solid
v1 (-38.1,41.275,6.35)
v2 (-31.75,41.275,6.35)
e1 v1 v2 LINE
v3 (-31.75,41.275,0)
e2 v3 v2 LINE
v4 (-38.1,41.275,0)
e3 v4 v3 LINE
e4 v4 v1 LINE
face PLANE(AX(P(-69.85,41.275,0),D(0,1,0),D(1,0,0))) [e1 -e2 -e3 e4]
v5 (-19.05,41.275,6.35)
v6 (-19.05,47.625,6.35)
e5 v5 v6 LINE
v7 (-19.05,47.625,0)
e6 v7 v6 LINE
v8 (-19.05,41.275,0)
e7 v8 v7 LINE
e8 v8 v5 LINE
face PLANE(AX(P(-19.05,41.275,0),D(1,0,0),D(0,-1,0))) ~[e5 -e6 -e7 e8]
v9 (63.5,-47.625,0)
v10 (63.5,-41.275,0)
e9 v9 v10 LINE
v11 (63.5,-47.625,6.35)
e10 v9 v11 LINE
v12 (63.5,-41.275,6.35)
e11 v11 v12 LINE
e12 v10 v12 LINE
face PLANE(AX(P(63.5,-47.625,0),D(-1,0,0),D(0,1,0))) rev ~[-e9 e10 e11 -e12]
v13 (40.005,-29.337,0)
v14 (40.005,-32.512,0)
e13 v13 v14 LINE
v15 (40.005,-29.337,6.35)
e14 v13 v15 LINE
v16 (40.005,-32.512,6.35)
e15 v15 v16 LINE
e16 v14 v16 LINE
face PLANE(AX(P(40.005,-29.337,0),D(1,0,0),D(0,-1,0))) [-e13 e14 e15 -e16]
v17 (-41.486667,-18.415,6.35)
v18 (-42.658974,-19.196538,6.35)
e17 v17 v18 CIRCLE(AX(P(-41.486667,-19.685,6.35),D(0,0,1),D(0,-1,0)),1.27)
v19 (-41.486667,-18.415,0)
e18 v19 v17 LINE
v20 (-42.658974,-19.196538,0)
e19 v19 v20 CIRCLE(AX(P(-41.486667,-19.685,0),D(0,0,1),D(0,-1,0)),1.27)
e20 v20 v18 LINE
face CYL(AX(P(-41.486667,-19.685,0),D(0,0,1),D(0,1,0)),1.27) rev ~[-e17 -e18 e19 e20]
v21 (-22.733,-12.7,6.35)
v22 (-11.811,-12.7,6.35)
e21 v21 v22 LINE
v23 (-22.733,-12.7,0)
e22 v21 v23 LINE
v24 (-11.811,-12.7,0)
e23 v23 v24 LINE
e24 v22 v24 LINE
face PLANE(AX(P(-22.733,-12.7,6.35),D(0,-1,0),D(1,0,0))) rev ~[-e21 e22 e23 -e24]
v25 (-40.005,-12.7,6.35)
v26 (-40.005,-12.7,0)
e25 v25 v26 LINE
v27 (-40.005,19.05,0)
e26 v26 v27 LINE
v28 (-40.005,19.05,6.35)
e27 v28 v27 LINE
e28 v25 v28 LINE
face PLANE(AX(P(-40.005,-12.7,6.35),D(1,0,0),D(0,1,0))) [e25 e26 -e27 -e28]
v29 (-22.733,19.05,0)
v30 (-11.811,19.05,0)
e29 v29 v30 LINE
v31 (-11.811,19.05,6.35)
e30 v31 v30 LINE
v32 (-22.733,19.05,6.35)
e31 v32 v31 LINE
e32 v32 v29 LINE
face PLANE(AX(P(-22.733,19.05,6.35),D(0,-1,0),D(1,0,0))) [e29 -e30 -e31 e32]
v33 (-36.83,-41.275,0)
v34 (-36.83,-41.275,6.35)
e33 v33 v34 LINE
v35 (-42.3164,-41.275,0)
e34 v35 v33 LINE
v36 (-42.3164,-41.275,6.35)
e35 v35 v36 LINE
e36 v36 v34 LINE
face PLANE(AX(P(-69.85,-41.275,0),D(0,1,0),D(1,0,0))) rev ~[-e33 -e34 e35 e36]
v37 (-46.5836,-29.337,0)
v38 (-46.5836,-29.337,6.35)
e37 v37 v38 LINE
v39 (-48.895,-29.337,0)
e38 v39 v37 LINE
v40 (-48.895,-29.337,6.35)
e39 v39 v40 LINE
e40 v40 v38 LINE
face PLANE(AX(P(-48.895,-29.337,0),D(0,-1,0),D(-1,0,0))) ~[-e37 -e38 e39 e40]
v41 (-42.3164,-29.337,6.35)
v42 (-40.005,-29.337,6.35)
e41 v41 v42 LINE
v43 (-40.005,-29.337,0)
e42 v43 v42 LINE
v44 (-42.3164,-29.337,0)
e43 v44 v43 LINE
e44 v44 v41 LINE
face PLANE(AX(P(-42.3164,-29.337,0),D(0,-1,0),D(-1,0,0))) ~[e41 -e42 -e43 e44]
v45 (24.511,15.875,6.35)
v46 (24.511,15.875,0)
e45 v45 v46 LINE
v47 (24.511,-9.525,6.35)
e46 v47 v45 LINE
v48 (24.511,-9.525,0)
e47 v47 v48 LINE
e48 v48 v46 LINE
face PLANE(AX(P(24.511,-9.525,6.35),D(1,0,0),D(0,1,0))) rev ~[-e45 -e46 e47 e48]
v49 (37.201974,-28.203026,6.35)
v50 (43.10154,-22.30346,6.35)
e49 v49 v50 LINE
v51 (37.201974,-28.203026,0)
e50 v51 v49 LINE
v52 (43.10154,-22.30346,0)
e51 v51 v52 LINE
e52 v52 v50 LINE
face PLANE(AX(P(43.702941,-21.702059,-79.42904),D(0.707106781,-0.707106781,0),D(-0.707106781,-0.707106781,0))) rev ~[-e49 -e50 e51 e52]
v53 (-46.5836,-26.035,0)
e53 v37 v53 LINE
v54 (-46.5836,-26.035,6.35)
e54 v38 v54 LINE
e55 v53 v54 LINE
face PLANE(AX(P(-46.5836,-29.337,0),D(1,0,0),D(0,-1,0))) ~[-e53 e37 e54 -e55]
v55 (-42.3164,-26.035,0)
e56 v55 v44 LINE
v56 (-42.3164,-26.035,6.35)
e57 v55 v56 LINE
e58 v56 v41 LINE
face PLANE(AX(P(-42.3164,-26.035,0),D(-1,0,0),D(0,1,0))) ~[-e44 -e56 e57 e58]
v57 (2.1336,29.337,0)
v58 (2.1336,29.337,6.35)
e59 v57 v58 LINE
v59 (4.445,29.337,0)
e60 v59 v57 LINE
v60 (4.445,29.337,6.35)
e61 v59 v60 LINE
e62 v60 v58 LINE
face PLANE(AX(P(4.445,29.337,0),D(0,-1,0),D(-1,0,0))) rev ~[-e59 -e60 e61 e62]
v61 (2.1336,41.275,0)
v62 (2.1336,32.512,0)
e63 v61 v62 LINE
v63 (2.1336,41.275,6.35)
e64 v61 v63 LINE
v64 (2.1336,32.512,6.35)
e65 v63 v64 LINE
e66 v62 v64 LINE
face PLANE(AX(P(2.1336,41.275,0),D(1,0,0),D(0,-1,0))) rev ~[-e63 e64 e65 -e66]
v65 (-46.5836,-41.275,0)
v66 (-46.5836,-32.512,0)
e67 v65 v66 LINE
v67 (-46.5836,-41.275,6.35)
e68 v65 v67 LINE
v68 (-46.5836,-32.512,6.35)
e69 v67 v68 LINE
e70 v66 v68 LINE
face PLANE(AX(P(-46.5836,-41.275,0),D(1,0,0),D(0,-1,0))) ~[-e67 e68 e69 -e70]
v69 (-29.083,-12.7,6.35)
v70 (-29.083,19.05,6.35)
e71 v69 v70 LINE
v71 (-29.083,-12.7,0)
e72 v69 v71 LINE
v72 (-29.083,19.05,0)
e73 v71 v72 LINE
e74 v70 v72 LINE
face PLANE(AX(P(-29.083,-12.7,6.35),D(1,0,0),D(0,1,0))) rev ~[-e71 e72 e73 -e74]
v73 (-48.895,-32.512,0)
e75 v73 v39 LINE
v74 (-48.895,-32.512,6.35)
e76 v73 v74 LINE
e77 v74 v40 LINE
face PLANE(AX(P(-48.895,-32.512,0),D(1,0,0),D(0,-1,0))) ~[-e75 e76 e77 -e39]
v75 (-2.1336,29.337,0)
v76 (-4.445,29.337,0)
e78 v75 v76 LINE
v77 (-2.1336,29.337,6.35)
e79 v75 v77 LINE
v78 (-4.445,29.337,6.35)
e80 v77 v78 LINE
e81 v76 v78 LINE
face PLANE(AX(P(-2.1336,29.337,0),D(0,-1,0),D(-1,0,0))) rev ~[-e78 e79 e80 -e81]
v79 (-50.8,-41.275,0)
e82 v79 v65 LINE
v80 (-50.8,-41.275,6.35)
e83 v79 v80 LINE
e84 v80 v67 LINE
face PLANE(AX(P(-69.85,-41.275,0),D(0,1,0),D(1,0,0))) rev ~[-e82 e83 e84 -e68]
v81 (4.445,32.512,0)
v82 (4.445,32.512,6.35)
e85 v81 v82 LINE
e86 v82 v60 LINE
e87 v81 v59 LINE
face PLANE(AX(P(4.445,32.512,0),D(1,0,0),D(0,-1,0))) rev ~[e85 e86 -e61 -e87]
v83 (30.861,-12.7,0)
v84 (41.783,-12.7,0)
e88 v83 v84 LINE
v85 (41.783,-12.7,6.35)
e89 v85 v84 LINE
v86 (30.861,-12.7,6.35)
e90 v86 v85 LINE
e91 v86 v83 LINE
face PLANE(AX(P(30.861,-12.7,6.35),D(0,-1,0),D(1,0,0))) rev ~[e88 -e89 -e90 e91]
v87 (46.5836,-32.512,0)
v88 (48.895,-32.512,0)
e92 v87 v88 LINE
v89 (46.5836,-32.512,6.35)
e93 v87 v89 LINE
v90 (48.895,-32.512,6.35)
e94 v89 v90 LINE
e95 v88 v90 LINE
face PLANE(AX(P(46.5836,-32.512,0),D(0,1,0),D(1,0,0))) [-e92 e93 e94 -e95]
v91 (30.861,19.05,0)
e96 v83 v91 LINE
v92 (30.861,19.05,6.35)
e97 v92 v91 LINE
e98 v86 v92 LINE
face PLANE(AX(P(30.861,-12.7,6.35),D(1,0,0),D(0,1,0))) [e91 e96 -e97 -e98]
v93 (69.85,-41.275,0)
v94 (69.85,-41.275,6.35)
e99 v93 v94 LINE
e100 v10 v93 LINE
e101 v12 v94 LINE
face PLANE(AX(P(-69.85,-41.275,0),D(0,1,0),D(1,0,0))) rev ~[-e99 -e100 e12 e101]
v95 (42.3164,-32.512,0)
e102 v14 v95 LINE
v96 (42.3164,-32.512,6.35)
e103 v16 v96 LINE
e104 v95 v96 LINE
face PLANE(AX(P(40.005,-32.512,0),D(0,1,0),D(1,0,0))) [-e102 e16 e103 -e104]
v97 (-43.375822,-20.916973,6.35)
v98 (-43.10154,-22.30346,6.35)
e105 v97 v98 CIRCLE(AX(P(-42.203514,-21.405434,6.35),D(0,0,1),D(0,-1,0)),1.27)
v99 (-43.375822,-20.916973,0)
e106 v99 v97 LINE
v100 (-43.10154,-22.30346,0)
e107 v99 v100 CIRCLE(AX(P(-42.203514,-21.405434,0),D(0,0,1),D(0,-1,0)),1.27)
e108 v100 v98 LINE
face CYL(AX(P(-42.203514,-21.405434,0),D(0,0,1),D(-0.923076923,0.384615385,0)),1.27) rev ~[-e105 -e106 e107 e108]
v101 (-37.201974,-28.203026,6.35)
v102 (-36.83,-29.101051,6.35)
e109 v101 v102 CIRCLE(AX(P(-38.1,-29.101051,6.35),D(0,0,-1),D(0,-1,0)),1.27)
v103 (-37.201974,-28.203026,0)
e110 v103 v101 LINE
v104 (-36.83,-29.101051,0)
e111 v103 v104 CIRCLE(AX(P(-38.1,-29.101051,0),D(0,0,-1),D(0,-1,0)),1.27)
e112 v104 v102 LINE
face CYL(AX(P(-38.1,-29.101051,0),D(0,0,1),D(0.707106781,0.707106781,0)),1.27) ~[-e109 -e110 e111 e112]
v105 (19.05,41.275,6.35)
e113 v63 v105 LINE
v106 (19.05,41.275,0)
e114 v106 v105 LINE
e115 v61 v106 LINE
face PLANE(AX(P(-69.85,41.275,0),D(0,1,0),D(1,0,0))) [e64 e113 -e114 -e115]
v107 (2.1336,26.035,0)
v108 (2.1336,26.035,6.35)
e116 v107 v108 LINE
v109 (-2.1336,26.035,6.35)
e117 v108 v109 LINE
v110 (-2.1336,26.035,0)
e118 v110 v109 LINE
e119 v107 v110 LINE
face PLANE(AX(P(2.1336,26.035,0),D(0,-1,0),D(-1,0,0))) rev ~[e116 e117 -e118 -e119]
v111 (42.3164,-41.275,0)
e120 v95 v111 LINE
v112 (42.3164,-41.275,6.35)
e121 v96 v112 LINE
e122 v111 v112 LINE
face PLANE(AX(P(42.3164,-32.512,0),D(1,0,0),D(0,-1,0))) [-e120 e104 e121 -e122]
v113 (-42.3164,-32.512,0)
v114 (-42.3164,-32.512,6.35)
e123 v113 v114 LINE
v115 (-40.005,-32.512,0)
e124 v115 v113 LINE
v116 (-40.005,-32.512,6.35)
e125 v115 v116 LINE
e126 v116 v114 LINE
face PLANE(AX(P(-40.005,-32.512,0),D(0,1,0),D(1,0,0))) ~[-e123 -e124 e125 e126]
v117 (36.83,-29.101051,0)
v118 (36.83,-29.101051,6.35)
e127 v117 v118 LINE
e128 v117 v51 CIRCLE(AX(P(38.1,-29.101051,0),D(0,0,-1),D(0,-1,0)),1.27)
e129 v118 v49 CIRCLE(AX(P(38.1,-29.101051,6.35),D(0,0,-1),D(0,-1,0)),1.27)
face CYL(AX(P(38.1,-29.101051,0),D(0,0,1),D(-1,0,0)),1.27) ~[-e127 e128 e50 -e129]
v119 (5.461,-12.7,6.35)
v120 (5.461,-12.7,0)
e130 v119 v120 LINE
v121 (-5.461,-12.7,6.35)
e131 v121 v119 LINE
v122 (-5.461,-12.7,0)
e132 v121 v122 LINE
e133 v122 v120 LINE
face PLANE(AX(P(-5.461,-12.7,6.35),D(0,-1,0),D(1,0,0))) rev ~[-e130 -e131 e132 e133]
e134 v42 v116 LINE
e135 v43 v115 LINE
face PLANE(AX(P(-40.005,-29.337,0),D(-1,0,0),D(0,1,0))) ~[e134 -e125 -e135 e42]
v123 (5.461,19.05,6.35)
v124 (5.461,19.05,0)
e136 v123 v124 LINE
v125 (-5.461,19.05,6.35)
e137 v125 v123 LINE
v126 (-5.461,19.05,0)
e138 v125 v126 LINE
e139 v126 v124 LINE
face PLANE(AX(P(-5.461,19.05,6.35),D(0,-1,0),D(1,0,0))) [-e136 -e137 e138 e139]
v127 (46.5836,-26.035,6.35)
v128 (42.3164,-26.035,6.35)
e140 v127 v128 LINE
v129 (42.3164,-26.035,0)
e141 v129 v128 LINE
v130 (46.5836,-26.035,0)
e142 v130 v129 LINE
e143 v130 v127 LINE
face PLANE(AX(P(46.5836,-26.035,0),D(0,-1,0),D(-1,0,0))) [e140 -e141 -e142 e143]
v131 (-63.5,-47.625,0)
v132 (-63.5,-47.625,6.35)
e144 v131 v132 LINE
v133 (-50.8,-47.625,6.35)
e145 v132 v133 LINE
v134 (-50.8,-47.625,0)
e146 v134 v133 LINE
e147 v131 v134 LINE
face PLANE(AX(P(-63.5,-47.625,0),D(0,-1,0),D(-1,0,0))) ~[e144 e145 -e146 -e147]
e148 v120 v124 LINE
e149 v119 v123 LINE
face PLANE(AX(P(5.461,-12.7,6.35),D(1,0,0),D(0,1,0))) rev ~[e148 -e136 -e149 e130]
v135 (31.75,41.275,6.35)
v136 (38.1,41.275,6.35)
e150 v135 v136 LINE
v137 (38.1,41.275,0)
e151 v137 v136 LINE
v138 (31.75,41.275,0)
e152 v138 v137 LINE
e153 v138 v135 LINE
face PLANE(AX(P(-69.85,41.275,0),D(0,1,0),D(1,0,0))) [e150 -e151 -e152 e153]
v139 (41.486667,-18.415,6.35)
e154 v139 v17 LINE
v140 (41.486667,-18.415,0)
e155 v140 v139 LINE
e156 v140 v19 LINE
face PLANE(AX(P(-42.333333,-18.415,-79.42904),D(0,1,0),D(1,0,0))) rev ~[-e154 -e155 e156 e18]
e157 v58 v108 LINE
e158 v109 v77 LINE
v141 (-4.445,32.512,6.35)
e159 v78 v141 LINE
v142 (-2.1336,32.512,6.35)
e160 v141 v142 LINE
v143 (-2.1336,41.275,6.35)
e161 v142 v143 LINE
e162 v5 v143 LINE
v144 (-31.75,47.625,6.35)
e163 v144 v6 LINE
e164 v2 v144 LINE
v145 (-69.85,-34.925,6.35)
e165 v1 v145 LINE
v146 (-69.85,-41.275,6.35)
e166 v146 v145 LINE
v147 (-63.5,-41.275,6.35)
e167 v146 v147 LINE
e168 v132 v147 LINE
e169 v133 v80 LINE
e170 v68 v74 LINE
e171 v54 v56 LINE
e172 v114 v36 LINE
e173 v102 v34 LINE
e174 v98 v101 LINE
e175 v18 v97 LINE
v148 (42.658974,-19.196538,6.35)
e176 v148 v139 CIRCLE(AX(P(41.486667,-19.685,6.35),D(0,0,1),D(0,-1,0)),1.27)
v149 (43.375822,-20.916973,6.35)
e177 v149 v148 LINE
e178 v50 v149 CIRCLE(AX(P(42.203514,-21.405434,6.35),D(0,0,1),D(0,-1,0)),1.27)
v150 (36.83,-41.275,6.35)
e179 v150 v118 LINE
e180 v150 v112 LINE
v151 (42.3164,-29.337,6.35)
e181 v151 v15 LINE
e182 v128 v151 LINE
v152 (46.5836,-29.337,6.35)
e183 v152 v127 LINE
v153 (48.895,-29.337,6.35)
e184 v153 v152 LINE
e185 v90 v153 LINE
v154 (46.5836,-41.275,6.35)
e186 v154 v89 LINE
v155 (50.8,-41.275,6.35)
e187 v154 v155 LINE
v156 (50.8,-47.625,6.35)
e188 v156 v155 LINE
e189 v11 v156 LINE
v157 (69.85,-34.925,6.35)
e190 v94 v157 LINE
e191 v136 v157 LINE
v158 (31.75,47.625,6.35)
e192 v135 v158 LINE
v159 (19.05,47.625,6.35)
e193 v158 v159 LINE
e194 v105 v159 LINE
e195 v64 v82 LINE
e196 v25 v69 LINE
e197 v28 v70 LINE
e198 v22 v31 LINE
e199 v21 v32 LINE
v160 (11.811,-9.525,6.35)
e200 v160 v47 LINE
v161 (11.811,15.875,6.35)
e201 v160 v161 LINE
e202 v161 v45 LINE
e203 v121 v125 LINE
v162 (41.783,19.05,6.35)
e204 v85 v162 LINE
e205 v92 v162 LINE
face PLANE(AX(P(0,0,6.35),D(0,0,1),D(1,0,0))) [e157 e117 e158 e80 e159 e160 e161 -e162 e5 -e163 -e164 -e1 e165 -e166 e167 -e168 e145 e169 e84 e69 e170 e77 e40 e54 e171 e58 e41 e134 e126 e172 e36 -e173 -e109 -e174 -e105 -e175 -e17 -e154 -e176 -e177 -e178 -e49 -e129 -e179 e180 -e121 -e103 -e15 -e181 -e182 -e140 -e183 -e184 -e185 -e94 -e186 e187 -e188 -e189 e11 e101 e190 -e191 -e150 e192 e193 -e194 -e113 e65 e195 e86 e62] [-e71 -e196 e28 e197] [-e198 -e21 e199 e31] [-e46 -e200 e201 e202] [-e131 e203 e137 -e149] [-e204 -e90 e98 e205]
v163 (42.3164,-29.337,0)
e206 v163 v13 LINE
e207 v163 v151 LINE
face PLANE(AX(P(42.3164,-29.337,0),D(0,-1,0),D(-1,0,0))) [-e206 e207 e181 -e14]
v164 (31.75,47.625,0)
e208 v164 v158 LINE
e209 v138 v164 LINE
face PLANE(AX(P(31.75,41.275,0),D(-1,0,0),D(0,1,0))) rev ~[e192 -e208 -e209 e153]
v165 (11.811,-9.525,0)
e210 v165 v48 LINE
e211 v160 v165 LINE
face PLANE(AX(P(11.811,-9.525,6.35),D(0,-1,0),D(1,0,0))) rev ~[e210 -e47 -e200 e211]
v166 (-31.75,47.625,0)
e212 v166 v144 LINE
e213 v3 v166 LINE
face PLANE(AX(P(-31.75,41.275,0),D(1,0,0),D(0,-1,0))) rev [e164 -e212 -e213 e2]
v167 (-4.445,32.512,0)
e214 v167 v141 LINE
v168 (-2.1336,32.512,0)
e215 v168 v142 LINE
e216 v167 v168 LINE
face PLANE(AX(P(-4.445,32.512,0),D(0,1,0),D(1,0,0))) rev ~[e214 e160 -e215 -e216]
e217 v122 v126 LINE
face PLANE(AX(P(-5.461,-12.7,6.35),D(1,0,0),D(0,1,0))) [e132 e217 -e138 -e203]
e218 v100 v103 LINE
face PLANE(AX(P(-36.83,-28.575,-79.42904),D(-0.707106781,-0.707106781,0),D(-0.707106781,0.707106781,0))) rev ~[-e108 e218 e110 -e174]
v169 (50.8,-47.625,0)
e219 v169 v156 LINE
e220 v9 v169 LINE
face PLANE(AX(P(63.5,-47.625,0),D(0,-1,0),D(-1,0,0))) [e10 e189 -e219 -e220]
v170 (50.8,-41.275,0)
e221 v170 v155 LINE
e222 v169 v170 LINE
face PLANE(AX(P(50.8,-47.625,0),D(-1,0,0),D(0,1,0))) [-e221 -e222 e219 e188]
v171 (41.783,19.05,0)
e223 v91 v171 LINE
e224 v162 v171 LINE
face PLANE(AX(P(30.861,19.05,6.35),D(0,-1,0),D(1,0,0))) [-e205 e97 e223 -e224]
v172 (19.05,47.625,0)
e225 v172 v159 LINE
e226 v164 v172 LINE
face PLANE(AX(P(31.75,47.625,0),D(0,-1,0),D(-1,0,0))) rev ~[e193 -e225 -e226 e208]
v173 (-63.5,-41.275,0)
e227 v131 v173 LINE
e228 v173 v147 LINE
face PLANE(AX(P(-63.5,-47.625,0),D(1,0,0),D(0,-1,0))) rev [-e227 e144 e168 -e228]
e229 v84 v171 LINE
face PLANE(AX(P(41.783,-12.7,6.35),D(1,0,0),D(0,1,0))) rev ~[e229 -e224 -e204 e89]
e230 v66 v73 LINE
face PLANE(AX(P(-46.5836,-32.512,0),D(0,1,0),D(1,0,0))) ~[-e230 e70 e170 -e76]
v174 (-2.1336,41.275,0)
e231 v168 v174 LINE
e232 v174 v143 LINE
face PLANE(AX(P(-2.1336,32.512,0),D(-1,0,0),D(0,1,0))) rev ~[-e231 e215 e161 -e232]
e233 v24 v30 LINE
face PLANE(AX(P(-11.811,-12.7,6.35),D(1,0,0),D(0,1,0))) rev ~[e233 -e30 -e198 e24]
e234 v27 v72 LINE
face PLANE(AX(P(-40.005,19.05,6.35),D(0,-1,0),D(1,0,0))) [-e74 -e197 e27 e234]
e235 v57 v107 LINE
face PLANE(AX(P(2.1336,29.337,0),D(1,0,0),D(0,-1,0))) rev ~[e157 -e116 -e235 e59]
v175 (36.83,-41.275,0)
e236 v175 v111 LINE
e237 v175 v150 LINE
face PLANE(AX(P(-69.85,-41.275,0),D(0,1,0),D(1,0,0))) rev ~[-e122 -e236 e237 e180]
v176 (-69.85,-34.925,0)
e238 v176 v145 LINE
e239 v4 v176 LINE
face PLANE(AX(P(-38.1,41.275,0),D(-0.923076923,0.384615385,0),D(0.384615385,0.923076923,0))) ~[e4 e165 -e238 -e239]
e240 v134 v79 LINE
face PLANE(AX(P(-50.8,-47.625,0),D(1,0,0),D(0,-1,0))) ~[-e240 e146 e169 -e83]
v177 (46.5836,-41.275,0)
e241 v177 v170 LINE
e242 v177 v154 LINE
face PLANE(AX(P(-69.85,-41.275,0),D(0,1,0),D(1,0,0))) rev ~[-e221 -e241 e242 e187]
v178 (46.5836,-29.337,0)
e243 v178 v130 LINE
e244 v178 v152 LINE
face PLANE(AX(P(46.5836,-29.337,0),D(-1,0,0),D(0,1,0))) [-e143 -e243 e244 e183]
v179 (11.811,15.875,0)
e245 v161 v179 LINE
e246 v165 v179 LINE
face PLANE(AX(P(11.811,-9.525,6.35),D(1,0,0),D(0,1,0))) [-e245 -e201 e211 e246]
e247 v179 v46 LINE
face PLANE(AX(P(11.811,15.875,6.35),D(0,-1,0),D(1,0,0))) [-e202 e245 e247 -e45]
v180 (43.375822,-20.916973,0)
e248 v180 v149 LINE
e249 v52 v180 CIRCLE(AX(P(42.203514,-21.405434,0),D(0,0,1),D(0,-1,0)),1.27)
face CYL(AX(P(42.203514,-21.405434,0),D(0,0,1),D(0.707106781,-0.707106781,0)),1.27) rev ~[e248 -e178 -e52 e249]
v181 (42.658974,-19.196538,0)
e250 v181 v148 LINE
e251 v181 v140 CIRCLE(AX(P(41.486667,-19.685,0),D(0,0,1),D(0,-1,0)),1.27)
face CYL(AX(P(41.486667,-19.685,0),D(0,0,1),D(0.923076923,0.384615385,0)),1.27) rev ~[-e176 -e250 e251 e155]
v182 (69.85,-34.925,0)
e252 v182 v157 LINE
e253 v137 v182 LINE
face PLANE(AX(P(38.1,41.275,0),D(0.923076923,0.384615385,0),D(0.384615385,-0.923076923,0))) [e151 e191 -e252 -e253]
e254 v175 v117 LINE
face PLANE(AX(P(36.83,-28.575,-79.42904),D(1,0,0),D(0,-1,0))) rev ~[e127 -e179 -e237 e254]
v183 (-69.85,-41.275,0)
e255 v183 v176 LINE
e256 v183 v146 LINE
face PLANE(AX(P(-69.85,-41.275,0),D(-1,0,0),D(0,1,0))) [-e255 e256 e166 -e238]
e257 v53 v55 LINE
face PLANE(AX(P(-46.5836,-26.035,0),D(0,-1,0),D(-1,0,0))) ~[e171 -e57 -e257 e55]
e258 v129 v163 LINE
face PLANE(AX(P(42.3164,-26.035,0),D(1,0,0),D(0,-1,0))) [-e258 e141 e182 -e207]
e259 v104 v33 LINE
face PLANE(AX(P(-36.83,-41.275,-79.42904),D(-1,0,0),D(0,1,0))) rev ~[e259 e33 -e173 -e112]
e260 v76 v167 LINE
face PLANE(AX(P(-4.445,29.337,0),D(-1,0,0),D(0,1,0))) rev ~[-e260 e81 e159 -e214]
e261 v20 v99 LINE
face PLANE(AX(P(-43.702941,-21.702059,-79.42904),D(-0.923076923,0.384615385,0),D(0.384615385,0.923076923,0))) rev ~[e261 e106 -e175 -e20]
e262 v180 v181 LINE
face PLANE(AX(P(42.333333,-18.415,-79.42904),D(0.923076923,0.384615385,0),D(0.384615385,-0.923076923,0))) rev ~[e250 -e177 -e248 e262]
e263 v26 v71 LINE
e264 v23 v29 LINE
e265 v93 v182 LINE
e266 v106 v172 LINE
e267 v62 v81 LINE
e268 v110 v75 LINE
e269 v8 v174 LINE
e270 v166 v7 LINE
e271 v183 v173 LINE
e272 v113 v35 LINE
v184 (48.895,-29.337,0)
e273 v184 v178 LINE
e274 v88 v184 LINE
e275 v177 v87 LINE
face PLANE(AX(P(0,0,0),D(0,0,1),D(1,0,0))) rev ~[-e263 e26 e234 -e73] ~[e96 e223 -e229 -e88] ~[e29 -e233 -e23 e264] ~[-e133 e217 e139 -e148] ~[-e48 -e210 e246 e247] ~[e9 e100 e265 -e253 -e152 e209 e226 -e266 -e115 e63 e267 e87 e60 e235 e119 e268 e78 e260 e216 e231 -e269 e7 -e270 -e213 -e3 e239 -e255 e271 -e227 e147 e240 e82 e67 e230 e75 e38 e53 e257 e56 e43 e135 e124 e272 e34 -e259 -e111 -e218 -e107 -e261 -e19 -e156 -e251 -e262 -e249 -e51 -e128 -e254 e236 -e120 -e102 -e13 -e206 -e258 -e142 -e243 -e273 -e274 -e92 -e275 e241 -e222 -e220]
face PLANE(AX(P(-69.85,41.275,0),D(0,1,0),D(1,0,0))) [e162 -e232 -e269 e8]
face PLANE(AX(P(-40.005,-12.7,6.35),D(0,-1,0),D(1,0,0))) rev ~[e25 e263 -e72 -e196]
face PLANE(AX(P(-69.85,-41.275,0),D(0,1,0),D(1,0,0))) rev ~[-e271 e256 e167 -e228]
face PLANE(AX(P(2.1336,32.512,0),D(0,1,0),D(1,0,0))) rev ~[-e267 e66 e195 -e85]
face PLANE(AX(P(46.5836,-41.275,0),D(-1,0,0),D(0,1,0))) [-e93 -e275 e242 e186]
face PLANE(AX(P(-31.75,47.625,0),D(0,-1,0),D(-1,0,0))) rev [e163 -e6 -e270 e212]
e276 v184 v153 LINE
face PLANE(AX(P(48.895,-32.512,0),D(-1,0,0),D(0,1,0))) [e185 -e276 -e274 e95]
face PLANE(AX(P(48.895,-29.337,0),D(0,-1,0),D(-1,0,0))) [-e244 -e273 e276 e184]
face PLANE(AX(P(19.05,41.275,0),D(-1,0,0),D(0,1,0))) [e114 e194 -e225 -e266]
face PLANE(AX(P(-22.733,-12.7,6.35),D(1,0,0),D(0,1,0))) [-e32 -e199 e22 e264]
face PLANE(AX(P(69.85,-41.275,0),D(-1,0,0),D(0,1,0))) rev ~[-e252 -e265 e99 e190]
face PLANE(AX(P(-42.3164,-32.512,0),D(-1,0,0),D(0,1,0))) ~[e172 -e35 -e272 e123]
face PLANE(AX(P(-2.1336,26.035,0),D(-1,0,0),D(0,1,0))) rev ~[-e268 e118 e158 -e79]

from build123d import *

# Parameters (mm, degrees)
SKETCH1_W               = 139.7
SKETCH1_H               = 82.55
BOSS_EXTRUDE1_DEPTH     = 6.35
SKETCH2_W               = 12.7
SKETCH2_H               = 6.35
BOSS_EXTRUDE2_DEPTH     = 6.35
CUT_EXTRUDE1_DEPTH      = 6.35
CUT_EXTRUDE8_DEPTH      = 6.35
CUT_EXTRUDE2_DEPTH      = 6.35
CUT_EXTRUDE9_DEPTH      = 85.77904001
CUT_EXTRUDE9_DEPTH_BACK = 85.77904001
FILLET1_R               = 1.27
SKETCH9_W               = 10.922
SKETCH9_H               = 31.75
SKETCH9_W_2             = 12.7
SKETCH9_H_2             = 25.4
CUT_EXTRUDE10_DEPTH     = 6.35


with BuildPart() as part:
    # Sketch1 → Boss-Extrude1 (new body)
    with BuildSketch(Plane.XY):
        Rectangle(SKETCH1_W, SKETCH1_H)
    extrude(amount=BOSS_EXTRUDE1_DEPTH)

    # Sketch2 → Boss-Extrude2 (add)
    with BuildSketch(Plane(origin=(0, 0, 0), x_dir=(-1, 0, 0), z_dir=(0, 0, -1))):
        with Locations((-57.15, -44.45)):
            Rectangle(SKETCH2_W, SKETCH2_H)
        with Locations((-25.4, 44.45)):
            Rectangle(SKETCH2_W, SKETCH2_H)
    boss_extrude2 = extrude(amount=-BOSS_EXTRUDE2_DEPTH)

    # Sketch3 → Cut-Extrude1 (cut)
    with BuildSketch(Plane(origin=(0, 0, 0), x_dir=(-1, 0, 0), z_dir=(0, 0, -1))):
        Polygon((-46.5836, -41.275), (-46.5836, -32.512), (-48.895, -32.512), (-48.895, -29.337), (-46.5836, -29.337), (-46.5836, -26.035), (-42.3164, -26.035), (-42.3164, -29.337), (-40.005, -29.337), (-40.005, -32.512), (-42.3164, -32.512), (-42.3164, -41.275), align=None)
    cut_extrude1 = extrude(amount=-CUT_EXTRUDE1_DEPTH, mode=Mode.SUBTRACT)

    # Sketch7 → Cut-Extrude8 (cut)
    with BuildSketch(Plane(origin=(0, 0, 0), x_dir=(-1, 0, 0), z_dir=(0, 0, -1))):
        Polygon((-38.1, 41.275), (-69.85, -34.925), (-69.85, 41.275), align=None)
    cut_extrude8 = extrude(amount=-CUT_EXTRUDE8_DEPTH, mode=Mode.SUBTRACT)

    # Mirror2: Boss-Extrude2, Cut-Extrude8 across plane
    add(boss_extrude2.mirror(Plane(origin=(0, 0, 0), x_dir=(0, 0, 1), z_dir=(1, 0, 0))))
    add(cut_extrude8.mirror(Plane(origin=(0, 0, 0), x_dir=(0, 0, 1), z_dir=(1, 0, 0))), mode=Mode.SUBTRACT)

    # Mirror4: Cut-Extrude1 across plane
    add(cut_extrude1.mirror(Plane(origin=(0, 0, 0), x_dir=(0, 0, 1), z_dir=(1, 0, 0))), mode=Mode.SUBTRACT)

    # Sketch4 → Cut-Extrude2 (cut)
    with BuildSketch(Plane(origin=(0, 0, 0), x_dir=(-1, 0, 0), z_dir=(0, 0, -1))):
        Polygon((2.1336, 41.275), (-2.1336, 41.275), (-2.1336, 32.512), (-4.445, 32.512), (-4.445, 29.337), (-2.1336, 29.337), (-2.1336, 26.035), (2.1336, 26.035), (2.1336, 29.337), (4.445, 29.337), (4.445, 32.512), (2.1336, 32.512), align=None)
    extrude(amount=-CUT_EXTRUDE2_DEPTH, mode=Mode.SUBTRACT)

    # Sketch8 → Cut-Extrude9 (cut, two sides: drawn at the far end of the back side and taken through both)
    with BuildSketch(Plane.XY.offset(6.35).offset(-CUT_EXTRUDE9_DEPTH_BACK)):
        Polygon((-36.83, -28.575), (-43.702941176, -21.702058824), (-42.333333333, -18.415), (42.333333333, -18.415), (43.702941176, -21.702058824), (36.83, -28.575), (36.83, -41.275), (-36.83, -41.275), align=None)
    extrude(amount=CUT_EXTRUDE9_DEPTH + CUT_EXTRUDE9_DEPTH_BACK, mode=Mode.SUBTRACT)

    # Fillet1
    fillet1_edges = [part.edges().sort_by_distance(p)[0] for p in [
        (-36.83, -28.575, 3.175),
        (-43.702941176, -21.702058824, 3.175),
        (-42.333333333, -18.415, 3.175),
        (42.333333333, -18.415, 3.175),
        (43.702941176, -21.702058824, 3.175),
        (36.83, -28.575, 3.175),
    ]]
    fillet(fillet1_edges, radius=FILLET1_R)

    # Sketch9 → Cut-Extrude10 (cut)
    with BuildSketch(Plane.XY.offset(6.35)):
        with Locations((0, 3.175)):
            Rectangle(SKETCH9_W, SKETCH9_H)
        with Locations((-34.544, 3.175)):
            Rectangle(SKETCH9_W, SKETCH9_H)
        with Locations((-17.272, 3.175)):
            Rectangle(SKETCH9_W, SKETCH9_H)
        with Locations((36.322, 3.175)):
            Rectangle(SKETCH9_W, SKETCH9_H)
        with Locations((18.161, 3.175)):
            Rectangle(SKETCH9_W_2, SKETCH9_H_2)
    extrude(amount=-CUT_EXTRUDE10_DEPTH, mode=Mode.SUBTRACT)


solid = part.part
